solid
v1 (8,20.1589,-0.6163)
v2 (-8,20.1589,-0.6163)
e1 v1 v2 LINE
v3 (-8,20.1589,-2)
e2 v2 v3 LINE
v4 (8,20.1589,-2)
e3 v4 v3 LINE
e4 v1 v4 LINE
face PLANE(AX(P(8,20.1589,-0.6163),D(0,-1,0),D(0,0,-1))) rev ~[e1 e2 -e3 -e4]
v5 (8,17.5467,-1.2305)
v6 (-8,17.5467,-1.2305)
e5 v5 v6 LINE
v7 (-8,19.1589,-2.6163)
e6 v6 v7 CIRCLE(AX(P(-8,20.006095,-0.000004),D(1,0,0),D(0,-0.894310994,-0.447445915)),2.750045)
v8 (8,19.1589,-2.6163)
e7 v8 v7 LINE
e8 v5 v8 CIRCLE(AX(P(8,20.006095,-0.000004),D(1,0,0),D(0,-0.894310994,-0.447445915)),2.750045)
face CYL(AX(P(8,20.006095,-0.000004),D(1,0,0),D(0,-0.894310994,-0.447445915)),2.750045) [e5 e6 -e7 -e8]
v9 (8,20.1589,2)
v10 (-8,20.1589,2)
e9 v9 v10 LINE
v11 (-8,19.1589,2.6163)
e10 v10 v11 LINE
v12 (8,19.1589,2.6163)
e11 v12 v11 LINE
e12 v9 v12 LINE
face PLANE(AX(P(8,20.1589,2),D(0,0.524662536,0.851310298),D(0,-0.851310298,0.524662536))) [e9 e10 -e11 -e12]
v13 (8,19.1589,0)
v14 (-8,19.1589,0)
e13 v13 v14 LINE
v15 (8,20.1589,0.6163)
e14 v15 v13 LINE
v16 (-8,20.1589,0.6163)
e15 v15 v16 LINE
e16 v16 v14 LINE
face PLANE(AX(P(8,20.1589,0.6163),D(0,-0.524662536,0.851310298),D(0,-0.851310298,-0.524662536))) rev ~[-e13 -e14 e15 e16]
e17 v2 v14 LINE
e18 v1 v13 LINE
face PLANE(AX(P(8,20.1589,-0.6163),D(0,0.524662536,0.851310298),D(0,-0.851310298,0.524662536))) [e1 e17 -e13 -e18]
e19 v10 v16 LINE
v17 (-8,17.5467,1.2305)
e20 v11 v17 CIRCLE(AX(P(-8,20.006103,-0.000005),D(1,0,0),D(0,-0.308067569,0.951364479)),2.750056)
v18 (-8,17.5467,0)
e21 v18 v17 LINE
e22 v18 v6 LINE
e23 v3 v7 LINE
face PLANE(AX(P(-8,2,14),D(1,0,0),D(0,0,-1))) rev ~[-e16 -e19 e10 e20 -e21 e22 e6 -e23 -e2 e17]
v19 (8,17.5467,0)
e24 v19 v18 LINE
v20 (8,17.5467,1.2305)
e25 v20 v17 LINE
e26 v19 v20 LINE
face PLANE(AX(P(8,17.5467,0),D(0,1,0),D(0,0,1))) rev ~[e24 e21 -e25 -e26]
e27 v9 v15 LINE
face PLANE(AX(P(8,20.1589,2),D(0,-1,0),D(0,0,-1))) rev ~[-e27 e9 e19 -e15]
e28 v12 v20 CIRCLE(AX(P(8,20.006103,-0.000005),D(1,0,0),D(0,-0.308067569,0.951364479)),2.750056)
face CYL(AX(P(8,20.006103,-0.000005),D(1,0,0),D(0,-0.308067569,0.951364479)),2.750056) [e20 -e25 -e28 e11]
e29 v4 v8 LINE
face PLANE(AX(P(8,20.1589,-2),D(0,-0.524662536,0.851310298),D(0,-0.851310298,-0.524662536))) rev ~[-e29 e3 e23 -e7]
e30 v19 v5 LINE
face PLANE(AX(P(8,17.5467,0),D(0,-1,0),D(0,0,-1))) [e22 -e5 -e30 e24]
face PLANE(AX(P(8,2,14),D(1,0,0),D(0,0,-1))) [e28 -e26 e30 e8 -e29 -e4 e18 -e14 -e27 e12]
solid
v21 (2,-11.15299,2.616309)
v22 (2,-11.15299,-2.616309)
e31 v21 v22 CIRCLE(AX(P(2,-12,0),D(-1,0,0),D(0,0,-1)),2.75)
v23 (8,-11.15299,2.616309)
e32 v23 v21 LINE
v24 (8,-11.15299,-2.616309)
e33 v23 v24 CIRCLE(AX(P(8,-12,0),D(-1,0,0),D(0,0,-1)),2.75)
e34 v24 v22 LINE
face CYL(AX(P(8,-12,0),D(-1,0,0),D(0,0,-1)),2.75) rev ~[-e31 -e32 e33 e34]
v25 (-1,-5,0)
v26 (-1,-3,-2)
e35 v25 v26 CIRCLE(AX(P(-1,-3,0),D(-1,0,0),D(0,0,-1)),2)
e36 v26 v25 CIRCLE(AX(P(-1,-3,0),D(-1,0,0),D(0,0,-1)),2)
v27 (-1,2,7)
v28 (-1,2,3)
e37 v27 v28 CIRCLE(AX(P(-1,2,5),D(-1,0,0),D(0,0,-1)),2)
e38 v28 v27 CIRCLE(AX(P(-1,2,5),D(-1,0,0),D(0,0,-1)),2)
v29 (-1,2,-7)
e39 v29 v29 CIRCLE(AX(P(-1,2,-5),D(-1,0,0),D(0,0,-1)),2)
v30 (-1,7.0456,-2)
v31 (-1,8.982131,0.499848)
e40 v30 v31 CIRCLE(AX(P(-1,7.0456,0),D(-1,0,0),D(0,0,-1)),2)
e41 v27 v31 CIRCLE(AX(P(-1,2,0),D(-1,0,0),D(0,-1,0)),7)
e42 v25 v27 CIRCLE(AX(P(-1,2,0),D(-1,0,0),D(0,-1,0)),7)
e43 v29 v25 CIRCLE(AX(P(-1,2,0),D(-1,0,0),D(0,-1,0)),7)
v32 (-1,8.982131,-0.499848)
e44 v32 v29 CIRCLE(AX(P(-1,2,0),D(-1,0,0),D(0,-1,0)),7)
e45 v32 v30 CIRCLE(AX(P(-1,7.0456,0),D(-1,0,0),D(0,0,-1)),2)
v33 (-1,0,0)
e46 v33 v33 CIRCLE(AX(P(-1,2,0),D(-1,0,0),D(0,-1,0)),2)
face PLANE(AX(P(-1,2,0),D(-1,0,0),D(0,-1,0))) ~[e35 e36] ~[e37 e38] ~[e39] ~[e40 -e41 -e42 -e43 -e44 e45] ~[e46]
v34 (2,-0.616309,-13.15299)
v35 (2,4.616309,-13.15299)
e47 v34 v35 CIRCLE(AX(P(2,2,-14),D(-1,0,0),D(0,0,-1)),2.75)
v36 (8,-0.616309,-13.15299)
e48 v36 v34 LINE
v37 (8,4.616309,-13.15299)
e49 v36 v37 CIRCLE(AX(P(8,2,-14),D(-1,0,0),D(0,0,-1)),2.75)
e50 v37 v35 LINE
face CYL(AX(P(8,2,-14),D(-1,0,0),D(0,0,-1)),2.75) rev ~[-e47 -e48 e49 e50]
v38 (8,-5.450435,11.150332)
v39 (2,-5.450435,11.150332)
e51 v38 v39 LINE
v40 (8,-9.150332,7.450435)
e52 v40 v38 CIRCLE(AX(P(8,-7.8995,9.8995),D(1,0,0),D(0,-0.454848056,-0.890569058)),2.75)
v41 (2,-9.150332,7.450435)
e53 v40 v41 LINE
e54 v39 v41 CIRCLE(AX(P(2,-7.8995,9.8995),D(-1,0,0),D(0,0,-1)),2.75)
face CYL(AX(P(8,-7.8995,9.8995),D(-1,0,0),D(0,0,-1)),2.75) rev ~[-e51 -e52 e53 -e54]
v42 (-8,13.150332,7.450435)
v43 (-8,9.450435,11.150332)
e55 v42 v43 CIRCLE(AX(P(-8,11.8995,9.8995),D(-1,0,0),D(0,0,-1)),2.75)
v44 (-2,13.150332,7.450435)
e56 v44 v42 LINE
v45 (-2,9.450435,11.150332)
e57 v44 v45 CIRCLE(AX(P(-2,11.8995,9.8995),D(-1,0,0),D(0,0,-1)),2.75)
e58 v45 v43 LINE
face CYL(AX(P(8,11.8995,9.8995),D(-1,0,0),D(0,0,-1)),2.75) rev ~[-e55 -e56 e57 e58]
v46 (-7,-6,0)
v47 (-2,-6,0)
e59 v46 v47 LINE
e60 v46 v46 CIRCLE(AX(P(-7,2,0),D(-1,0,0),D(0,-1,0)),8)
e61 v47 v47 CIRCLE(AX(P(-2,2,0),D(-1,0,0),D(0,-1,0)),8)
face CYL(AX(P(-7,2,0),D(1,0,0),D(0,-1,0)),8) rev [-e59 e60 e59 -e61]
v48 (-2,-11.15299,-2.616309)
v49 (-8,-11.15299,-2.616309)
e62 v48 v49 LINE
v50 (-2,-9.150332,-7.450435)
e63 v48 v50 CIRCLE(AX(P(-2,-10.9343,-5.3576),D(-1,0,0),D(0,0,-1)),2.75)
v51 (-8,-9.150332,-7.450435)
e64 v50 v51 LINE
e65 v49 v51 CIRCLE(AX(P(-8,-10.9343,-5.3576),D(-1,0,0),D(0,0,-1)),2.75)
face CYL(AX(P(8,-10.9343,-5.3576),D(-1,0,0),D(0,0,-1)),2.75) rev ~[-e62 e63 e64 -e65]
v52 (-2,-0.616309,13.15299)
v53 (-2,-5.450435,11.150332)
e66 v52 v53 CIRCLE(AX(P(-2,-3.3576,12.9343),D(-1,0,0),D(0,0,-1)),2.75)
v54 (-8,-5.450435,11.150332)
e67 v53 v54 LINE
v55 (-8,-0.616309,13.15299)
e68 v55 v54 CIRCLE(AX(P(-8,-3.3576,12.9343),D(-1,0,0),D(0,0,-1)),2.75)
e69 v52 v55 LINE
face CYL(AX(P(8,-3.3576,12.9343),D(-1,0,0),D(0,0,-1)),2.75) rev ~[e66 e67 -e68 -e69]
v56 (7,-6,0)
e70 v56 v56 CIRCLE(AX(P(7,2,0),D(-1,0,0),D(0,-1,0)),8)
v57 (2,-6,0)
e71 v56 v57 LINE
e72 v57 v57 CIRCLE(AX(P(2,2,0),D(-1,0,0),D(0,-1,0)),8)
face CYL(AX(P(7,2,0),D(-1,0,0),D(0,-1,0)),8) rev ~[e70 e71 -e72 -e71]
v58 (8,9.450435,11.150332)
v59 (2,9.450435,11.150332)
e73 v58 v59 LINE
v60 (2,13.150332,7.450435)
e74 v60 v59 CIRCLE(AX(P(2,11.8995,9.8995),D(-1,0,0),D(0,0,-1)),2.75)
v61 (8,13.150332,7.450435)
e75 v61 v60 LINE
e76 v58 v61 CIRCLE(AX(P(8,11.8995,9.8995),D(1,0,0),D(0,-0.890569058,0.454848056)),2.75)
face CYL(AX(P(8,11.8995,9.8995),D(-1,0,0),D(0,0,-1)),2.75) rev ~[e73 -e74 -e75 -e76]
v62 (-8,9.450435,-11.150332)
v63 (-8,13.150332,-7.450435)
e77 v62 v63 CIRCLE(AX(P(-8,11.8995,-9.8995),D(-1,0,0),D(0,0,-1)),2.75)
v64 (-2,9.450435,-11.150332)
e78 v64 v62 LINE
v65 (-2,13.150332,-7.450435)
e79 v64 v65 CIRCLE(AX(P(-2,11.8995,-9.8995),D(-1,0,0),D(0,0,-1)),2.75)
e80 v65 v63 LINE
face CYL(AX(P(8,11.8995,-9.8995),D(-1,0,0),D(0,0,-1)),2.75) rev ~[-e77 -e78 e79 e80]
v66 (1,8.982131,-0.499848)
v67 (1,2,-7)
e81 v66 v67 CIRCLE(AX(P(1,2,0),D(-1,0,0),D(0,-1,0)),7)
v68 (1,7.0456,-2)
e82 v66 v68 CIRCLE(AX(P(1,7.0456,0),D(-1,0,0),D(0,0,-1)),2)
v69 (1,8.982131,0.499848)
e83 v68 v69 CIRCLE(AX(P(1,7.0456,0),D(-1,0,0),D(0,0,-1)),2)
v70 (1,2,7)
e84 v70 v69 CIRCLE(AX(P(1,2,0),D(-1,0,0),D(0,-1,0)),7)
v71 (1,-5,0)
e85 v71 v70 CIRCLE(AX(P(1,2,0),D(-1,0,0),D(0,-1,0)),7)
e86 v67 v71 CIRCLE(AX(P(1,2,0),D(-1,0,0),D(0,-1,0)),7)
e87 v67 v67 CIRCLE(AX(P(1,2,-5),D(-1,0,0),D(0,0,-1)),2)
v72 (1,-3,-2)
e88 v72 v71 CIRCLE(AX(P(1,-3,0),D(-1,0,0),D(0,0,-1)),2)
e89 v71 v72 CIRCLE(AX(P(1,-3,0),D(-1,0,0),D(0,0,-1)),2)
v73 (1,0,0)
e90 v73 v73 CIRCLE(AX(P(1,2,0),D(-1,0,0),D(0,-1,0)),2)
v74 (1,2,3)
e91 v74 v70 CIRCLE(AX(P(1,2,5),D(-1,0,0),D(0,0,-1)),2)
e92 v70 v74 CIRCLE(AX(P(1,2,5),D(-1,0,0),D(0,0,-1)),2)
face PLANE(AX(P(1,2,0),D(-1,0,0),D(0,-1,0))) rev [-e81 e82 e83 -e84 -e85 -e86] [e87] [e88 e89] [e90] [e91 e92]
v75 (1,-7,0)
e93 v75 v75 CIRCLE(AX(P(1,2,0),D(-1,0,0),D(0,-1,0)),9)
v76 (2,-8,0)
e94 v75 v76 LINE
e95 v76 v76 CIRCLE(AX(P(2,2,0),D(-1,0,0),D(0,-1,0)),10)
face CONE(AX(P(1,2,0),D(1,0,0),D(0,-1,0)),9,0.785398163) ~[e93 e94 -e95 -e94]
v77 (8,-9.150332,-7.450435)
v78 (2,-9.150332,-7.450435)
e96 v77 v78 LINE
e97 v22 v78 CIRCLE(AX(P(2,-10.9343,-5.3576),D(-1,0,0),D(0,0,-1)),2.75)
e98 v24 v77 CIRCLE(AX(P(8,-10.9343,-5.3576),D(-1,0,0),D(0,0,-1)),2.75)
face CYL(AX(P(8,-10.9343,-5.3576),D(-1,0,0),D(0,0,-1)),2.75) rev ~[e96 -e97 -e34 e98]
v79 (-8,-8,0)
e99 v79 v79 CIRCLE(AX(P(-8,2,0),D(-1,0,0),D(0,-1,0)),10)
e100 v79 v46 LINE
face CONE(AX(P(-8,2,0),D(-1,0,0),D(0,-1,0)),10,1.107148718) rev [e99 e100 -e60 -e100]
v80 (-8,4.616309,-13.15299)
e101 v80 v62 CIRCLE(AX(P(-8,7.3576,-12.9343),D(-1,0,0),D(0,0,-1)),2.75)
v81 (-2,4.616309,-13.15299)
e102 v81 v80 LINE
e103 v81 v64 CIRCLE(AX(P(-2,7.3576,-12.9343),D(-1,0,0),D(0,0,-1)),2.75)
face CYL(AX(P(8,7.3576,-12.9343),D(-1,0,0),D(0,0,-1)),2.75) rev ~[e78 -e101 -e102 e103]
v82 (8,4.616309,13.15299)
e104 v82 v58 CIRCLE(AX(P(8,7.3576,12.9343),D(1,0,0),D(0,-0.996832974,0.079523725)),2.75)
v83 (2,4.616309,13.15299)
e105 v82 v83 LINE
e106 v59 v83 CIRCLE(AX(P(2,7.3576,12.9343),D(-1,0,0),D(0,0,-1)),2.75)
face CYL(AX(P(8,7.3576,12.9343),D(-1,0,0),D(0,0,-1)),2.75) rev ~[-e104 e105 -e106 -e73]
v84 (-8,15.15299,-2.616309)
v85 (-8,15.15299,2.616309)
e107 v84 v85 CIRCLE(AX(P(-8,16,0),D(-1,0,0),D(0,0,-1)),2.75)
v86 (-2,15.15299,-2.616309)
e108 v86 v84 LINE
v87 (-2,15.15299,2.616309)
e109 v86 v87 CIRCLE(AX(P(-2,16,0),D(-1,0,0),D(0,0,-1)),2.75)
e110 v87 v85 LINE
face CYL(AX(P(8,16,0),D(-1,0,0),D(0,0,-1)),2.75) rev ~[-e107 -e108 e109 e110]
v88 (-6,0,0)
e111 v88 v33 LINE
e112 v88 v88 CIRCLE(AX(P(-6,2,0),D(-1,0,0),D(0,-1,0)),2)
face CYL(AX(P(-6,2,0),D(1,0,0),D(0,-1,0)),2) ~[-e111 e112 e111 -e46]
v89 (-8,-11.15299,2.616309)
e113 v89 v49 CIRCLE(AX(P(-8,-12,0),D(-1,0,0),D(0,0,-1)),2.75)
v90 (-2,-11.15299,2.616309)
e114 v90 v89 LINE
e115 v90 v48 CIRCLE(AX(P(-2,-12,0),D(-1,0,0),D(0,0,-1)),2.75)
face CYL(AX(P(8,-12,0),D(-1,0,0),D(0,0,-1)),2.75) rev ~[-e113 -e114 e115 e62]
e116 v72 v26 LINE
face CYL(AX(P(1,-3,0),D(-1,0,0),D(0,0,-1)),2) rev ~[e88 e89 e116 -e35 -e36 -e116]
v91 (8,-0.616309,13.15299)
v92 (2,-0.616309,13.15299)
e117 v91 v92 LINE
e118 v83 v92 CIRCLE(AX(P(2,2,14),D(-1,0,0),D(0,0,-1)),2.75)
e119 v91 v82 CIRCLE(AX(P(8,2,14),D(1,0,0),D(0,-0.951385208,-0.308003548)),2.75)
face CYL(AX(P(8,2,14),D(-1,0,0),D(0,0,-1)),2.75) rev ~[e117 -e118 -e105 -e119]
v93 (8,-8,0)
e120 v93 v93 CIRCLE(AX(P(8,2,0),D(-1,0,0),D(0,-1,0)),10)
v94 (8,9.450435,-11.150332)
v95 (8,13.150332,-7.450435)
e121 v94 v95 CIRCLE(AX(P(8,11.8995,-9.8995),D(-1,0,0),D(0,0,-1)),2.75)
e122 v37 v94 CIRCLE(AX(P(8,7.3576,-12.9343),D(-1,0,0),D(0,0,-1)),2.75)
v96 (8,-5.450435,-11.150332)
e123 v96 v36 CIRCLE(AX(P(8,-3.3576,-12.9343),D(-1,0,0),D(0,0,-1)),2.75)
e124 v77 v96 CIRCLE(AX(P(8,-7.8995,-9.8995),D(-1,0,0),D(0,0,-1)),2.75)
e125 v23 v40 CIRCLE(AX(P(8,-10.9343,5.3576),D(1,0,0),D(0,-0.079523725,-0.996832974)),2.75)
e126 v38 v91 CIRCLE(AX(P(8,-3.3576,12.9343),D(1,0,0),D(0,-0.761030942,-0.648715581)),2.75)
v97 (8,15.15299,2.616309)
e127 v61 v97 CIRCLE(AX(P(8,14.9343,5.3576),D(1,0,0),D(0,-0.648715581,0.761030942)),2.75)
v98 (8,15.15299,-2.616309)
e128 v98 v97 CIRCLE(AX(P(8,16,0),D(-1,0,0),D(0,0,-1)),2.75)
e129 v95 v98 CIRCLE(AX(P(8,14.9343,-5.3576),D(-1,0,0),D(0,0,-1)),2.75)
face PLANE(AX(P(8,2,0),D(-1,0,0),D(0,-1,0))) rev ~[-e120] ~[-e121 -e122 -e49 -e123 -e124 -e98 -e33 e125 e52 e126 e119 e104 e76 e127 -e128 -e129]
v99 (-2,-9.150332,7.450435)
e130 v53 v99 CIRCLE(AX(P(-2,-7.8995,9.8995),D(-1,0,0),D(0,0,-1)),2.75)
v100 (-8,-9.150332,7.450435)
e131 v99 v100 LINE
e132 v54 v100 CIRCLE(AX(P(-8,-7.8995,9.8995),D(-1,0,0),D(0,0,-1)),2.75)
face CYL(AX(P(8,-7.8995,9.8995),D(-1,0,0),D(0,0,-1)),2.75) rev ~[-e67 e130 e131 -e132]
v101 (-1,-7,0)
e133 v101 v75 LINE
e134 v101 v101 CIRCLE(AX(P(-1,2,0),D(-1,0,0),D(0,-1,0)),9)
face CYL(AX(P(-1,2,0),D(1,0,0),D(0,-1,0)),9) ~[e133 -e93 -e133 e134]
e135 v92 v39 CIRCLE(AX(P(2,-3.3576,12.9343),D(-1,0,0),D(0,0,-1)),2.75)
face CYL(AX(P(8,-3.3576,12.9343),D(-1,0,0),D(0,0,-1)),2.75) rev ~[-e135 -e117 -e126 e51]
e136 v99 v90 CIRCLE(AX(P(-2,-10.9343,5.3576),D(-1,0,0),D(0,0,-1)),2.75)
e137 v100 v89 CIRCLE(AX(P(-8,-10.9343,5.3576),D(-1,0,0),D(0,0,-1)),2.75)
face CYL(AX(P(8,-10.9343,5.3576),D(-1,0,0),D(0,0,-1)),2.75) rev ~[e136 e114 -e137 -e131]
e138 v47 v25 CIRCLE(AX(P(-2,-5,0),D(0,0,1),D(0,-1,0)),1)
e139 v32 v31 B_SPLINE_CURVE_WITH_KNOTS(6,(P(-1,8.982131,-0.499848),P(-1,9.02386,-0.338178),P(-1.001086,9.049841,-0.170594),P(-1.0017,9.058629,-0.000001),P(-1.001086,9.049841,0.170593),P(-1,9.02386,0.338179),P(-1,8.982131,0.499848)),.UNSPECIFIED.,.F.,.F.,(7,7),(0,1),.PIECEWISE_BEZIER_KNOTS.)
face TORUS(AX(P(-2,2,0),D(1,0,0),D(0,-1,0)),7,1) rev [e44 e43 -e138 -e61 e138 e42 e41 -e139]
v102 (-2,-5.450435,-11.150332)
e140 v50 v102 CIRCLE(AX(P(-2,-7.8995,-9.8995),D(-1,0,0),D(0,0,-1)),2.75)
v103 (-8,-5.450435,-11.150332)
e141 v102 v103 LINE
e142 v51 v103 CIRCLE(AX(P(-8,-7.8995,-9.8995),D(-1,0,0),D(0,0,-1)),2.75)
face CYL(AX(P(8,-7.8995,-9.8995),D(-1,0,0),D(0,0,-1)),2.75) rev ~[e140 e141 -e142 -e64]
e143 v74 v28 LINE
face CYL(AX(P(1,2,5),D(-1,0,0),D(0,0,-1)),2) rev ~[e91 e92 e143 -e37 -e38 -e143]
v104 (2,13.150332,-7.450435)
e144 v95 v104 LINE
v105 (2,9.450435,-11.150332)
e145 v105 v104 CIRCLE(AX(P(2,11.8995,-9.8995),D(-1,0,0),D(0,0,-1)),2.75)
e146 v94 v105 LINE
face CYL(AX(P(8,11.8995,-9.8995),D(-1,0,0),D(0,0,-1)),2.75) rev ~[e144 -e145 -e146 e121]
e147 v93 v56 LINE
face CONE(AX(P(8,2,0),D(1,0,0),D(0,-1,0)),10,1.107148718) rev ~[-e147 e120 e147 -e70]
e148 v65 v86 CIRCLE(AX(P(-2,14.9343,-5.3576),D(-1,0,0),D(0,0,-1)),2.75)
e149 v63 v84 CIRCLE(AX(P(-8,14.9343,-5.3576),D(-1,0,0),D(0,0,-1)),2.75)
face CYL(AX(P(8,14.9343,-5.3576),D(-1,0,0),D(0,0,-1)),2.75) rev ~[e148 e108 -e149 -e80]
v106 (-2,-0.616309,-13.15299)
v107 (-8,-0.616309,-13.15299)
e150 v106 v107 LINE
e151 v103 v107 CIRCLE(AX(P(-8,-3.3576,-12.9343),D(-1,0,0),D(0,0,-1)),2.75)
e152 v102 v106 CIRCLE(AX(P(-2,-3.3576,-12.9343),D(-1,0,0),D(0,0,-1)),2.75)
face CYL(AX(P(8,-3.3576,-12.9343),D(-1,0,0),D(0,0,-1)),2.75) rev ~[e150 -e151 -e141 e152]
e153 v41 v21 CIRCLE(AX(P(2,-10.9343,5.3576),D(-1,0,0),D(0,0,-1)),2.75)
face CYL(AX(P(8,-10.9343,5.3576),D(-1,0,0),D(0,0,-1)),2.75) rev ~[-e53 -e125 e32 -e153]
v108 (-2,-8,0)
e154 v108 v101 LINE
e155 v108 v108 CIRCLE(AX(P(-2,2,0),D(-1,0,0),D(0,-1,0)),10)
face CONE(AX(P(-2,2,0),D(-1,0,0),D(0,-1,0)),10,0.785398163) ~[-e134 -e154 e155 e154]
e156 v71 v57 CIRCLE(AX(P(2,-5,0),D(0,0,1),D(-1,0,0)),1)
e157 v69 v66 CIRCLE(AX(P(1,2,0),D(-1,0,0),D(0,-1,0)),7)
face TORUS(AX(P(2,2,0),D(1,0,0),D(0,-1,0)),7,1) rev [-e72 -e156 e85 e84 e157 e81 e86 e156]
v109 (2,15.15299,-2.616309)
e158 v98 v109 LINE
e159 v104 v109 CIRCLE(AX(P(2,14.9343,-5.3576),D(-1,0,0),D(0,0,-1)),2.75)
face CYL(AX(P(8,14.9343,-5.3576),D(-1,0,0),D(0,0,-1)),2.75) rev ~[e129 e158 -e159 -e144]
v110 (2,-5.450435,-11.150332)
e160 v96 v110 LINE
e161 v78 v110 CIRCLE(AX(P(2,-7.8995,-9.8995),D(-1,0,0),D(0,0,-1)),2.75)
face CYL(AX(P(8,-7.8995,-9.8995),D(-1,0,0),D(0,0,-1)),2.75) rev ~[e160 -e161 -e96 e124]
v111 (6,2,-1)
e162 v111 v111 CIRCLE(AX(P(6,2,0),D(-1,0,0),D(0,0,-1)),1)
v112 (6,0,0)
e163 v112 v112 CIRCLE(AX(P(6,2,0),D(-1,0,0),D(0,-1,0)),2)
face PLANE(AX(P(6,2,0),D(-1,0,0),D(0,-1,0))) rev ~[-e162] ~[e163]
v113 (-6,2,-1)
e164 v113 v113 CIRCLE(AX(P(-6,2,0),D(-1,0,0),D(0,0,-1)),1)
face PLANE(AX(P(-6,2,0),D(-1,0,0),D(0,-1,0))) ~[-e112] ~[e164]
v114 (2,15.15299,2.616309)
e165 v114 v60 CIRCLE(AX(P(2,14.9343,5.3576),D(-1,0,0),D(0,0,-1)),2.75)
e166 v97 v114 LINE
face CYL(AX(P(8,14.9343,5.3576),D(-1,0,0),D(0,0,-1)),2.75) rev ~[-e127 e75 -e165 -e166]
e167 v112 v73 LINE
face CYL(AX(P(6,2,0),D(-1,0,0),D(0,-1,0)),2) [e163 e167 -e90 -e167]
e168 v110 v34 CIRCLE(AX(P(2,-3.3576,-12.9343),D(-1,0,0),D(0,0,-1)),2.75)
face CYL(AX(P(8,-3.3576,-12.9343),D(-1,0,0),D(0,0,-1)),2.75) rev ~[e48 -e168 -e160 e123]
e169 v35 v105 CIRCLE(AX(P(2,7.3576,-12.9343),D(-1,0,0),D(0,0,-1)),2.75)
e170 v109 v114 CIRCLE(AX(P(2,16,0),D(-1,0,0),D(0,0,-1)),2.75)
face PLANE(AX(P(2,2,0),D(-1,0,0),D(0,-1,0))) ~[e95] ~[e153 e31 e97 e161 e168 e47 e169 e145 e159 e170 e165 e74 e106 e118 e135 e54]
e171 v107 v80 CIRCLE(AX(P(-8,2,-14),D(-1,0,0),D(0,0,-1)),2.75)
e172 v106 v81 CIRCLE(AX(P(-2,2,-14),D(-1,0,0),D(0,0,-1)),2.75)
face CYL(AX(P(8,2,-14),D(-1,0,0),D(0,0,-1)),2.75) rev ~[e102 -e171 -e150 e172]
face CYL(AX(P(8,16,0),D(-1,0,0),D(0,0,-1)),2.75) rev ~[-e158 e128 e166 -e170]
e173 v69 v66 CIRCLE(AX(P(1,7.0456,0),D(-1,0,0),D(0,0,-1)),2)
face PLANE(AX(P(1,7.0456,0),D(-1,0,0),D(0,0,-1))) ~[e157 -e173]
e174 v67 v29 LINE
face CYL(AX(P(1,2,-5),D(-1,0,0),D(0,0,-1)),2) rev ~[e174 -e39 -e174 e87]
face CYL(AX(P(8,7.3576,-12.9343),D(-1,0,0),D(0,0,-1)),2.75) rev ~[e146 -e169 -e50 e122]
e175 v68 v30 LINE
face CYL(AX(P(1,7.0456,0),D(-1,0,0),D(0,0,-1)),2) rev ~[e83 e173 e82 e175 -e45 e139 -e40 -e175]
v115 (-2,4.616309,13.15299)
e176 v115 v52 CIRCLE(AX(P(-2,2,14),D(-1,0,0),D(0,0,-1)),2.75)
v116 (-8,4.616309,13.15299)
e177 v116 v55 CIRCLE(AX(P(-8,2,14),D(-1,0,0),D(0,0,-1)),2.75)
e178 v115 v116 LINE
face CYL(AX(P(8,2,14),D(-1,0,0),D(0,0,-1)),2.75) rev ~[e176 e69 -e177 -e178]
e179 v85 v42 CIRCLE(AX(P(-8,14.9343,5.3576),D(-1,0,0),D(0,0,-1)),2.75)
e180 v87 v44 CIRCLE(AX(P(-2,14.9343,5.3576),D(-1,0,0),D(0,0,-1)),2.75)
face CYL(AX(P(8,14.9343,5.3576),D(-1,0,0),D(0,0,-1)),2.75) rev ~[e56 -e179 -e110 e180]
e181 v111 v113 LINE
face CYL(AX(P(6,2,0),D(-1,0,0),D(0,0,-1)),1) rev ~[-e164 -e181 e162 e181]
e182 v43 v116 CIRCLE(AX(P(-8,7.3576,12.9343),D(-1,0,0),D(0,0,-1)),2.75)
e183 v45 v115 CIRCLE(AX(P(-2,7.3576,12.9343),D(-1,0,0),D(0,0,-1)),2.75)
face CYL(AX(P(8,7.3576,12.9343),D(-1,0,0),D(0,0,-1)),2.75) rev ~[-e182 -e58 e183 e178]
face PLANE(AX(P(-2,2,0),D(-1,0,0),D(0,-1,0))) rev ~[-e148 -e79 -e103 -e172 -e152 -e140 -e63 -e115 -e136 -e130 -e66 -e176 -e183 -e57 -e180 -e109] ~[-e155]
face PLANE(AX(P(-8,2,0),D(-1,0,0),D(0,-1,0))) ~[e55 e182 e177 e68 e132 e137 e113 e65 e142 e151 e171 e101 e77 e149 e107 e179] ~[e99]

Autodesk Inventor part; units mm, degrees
ref_plane "YZ Plane" through (0, 0, 0) normal (1, 0, 0) x (0, 1, 0)
ref_plane "XZ Plane" through (0, 0, 0) normal (0, 1, 0) x (-1, 0, 0)
ref_plane "XY Plane" through (0, 0, 0) normal (0, 0, 1) x (1, 0, 0)
sketch "Sketch1" plane through (0, 0, 0) normal (0, 0, 1) x (1, 0, 0)
  line L0 (6, 0) -> (6, 2)
  line L1 (6, 0) -> (1, 0)
  line L2 (6, 2) -> (-6, 2)
  line L3 (-6, 2) -> (-6, 0)
  line L4 (-6, 0) -> (-1, 0)
  line L5 (-8, -8) -> (-7, -6)
  line L6 (8, -8) -> (7, -6)
  line L7 (-7, -6) -> (-2, -6)
  line L8 (-1, 0) -> (-1, -5)
  arc A0 (-2, -6) -> (-1, -5) centre (-2, -5) ccw
  line L9 (-2, -8) -> (-1, -7)
  line L10 (-1, -7) -> (1, -7)
  line L11 (1, -7) -> (2, -8)
  line L12 (1, 0) -> (1, -5)
  line L13 (7, -6) -> (2, -6)
  arc A1 (1, -5) -> (2, -6) centre (2, -5) ccw
  line L14 (2, -8) -> (2, -12)
  line L15 (2, -12) -> (8, -12)
  line L16 (8, -12) -> (8, -8)
  line L17 (-8, -8) -> (-8, -12)
  line L18 (-8, -12) -> (-2, -12)
  line L19 (-2, -12) -> (-2, -8)
  point P0 (0, 0)
  dimension "d0" = 6
  dimension "d1" = 2
  dimension "d3" = 5
  dimension "d6" = 12
  dimension "d7" = 2
  dimension "d8" = 5
  dimension "d26" = 5
  dimension "d27" = 5
  dimension "d29" = 5
  dimension "d49" = 2
  dimension "d50" = 1
  dimension "d51" = 4
  dimension "d52" = 4
  dimension "d53" = 6
  dimension "d103" = 6
revolve "Revolution1" add sketch "Sketch1" angle 360 about axis through (6, 2, 0) along (-1, 0, 0)
sketch "Sketch2" plane through (1, 2, 0) normal (1, 0, 0) x (0, 0, -1)
  circle A0 centre (0, 0) radius 8 projected
  line L0 (0, 8) -> (0, 5)
  line L1 (-8, 0) -> (-5, 0)
  line L2 (0, -8) -> (0, -5)
  line L3 (8, 0) -> (5, 0)
  point P0 (0, -2)
  dimension "d15" = 3
  dimension "d16" = 3
  dimension "d17" = 3
  dimension "d18" = 3
hole "Hole1" [suppressed]
sketch "Sketch3" plane through (1, 2, 0) normal (1, 0, 0) x (0, 0, -1)
  line L0 (0, 2.0456) -> (0, 5.0456)
  circle A0 centre (0, 0) radius 2 projected
  line L1 (-2, 0) -> (-5, 0)
  line L2 (0, -2) -> (0, -5)
  line L3 (2, 0) -> (5, 0)
  dimension "d31" = 3
  dimension "d32" = 3
  dimension "d33" = 3
  dimension "d34" = 3
hole "Hole2" at (1, 7.0456, 0) at (1, 2, -5) at (1, -3, 0) at (1, 2, 5) direction (-1, 0, 0) diameter 4 depth 8
sketch "Sketch5" plane through (6, 2, 0) normal (1, 0, 0) x (0, 0, -1)
  point P0 (0, 0)
  point P1 (0, 0)
hole "Hole3" at (6, 2, 0) direction (-1, 0, 0) diameter 2 depth 20
sketch "Sketch7" plane through (8, 2, 0) normal (1, 0, 0) x (0, 0, -1)
  line L0 (0, 0) -> (0, 14)
  line L1 (0, 0) -> (14, 0)
  line L2 (0, 0) -> (0, -14)
  line L3 (0, 0) -> (-14, 0)
  line L4 (0, 0) -> (9.8995, -9.8995)
  line L5 (0, 0) -> (14, 0) construction
  line L6 (0, 0) -> (-9.8995, -9.8995)
  line L7 (0, 0) -> (14, 0) construction
  line L8 (0, 0) -> (-9.8995, 9.8995)
  line L9 (0, 0) -> (14, 0) construction
  line L10 (0, 0) -> (9.8995, 9.8995)
  line L11 (0, 0) -> (12.9343, 5.3576)
  line L12 (0, 0) -> (14, 0) construction
  line L13 (0, 0) -> (12.9343, -5.3576)
  line L14 (0, 0) -> (5.3576, -12.9343)
  line L15 (0, 0) -> (-5.3576, -12.9343)
  line L16 (0, 0) -> (14, 0) construction
  line L17 (0, 0) -> (-12.9343, -5.3576)
  line L18 (0, 0) -> (14, 0) construction
  line L19 (0, 0) -> (-12.9343, 5.3576)
  line L20 (0, 0) -> (14, 0) construction
  line L21 (0, 0) -> (-5.3576, 12.9343)
  line L22 (0, 0) -> (14, 0) construction
  circle A0 centre (0, 0) radius 14 projected
  line L23 (0, 0) -> (5.3576, 12.9343)
  point P0 (0, -2)
  dimension "d54" = 14
  dimension "d55" = 14
  dimension "d56" = 14
  dimension "d57" = 14
  dimension "d58" = 14
  dimension "d59" = 45
  dimension "d60" = 14
  dimension "d61" = 135
  dimension "d62" = 14
  dimension "d63" = 135
  dimension "d64" = 14
  dimension "d65" = 14
  dimension "d66" = 22.5
  dimension "d67" = 14
  dimension "d68" = 14
  dimension "d69" = 14
  dimension "d70" = 112.5
  dimension "d71" = 14
  dimension "d72" = 157.5
  dimension "d73" = 14
  dimension "d74" = 157.5
  dimension "d75" = 14
  dimension "d76" = 112.5
sketch "Sketch8" plane through (8, 2, 0) normal (1, 0, 0) x (0, 0, -1)
  point P0 (0, -2)
hole "Hole4" at (8, 16, 0) at (8, 14.9343, -5.3576) at (8, 11.8995, -9.8995) at (8, 7.3576, -12.9343) at (8, 2, -14) at (8, -3.3576, -12.9343) at (8, -7.8995, -9.8995) at (8, -10.9343, -5.3576) at (8, -12, 0) at (8, -10.9343, 5.3576) at (8, -7.8995, 9.8995) at (8, -3.3576, 12.9343) at (8, 2, 14) at (8, 7.3576, 12.9343) at (8, 11.8995, 9.8995) at (8, 14.9343, 5.3576) direction (-1, 0, 0) diameter 5.5 depth 20
sketch "Sketch9" plane through (8, 2, 14) normal (1, 0, 0) x (0, 0, -1)
  point P0 (14, -2)
sketch "Sketch10" plane through (8, 2, 14) normal (1, 0, 0) x (0, 0, -1)
  arc A0 (11.3837, 13.1529) -> (16.6163, 13.1529) centre (14, 14) ccw projected
  arc A1 (11.3837, 13.1529) -> (16.6163, 13.1529) centre (14, 14) ccw
  arc A2 (14, 11.25) -> (16.6163, 13.1529) centre (14, 14) ccw
  line L0 (13.3837, 18.1589) -> (14, 17.1589)
  line L1 (14.6163, 18.1589) -> (14, 17.1589)
  line L2 (12, 18.1589) -> (11.3837, 17.1589)
  line L3 (12, 18.1589) -> (13.3837, 18.1589)
  line L4 (16, 18.1589) -> (16.6163, 17.1589)
  line L5 (14.6163, 18.1589) -> (16, 18.1589)
  line L6 (14, 15.5467) -> (12.7695, 15.5467)
  line L7 (14, 15.5467) -> (15.2305, 15.5467)
  arc A3 (11.3837, 17.1589) -> (12.7695, 15.5467) centre (14, 18.0061) ccw
  arc A4 (15.2305, 15.5467) -> (16.6163, 17.1589) centre (14, 18.0061) ccw
  point P0 (14, -2)
  dimension "d99" = 0.6163
extrude "Extrusion1" add sketch "Sketch10" against normal blind 16
sketch "Sketch11" plane through (8, 2, 14) normal (1, 0, 0) x (0, 0, -1)
  arc A0 (11.3837, 17.1589) -> (16.6163, 17.1589) centre (14, 18.0061) ccw projected
  point P0 (14, -2)
  point P1 (14, 15.2561)
  dimension "d102" = 1.9028
  dimension "d105" = 2.75
sketch "Sketch12" plane through (8, 2, 14) normal (1, 0, 0) x (0, 0, -1)
  point P0 (14, -2)
  point P1 (11.3837, 17.1589)
  point P2 (16.6163, 17.1589)
  dimension "d104" = 5.2325
properties part number "Tank tread"
